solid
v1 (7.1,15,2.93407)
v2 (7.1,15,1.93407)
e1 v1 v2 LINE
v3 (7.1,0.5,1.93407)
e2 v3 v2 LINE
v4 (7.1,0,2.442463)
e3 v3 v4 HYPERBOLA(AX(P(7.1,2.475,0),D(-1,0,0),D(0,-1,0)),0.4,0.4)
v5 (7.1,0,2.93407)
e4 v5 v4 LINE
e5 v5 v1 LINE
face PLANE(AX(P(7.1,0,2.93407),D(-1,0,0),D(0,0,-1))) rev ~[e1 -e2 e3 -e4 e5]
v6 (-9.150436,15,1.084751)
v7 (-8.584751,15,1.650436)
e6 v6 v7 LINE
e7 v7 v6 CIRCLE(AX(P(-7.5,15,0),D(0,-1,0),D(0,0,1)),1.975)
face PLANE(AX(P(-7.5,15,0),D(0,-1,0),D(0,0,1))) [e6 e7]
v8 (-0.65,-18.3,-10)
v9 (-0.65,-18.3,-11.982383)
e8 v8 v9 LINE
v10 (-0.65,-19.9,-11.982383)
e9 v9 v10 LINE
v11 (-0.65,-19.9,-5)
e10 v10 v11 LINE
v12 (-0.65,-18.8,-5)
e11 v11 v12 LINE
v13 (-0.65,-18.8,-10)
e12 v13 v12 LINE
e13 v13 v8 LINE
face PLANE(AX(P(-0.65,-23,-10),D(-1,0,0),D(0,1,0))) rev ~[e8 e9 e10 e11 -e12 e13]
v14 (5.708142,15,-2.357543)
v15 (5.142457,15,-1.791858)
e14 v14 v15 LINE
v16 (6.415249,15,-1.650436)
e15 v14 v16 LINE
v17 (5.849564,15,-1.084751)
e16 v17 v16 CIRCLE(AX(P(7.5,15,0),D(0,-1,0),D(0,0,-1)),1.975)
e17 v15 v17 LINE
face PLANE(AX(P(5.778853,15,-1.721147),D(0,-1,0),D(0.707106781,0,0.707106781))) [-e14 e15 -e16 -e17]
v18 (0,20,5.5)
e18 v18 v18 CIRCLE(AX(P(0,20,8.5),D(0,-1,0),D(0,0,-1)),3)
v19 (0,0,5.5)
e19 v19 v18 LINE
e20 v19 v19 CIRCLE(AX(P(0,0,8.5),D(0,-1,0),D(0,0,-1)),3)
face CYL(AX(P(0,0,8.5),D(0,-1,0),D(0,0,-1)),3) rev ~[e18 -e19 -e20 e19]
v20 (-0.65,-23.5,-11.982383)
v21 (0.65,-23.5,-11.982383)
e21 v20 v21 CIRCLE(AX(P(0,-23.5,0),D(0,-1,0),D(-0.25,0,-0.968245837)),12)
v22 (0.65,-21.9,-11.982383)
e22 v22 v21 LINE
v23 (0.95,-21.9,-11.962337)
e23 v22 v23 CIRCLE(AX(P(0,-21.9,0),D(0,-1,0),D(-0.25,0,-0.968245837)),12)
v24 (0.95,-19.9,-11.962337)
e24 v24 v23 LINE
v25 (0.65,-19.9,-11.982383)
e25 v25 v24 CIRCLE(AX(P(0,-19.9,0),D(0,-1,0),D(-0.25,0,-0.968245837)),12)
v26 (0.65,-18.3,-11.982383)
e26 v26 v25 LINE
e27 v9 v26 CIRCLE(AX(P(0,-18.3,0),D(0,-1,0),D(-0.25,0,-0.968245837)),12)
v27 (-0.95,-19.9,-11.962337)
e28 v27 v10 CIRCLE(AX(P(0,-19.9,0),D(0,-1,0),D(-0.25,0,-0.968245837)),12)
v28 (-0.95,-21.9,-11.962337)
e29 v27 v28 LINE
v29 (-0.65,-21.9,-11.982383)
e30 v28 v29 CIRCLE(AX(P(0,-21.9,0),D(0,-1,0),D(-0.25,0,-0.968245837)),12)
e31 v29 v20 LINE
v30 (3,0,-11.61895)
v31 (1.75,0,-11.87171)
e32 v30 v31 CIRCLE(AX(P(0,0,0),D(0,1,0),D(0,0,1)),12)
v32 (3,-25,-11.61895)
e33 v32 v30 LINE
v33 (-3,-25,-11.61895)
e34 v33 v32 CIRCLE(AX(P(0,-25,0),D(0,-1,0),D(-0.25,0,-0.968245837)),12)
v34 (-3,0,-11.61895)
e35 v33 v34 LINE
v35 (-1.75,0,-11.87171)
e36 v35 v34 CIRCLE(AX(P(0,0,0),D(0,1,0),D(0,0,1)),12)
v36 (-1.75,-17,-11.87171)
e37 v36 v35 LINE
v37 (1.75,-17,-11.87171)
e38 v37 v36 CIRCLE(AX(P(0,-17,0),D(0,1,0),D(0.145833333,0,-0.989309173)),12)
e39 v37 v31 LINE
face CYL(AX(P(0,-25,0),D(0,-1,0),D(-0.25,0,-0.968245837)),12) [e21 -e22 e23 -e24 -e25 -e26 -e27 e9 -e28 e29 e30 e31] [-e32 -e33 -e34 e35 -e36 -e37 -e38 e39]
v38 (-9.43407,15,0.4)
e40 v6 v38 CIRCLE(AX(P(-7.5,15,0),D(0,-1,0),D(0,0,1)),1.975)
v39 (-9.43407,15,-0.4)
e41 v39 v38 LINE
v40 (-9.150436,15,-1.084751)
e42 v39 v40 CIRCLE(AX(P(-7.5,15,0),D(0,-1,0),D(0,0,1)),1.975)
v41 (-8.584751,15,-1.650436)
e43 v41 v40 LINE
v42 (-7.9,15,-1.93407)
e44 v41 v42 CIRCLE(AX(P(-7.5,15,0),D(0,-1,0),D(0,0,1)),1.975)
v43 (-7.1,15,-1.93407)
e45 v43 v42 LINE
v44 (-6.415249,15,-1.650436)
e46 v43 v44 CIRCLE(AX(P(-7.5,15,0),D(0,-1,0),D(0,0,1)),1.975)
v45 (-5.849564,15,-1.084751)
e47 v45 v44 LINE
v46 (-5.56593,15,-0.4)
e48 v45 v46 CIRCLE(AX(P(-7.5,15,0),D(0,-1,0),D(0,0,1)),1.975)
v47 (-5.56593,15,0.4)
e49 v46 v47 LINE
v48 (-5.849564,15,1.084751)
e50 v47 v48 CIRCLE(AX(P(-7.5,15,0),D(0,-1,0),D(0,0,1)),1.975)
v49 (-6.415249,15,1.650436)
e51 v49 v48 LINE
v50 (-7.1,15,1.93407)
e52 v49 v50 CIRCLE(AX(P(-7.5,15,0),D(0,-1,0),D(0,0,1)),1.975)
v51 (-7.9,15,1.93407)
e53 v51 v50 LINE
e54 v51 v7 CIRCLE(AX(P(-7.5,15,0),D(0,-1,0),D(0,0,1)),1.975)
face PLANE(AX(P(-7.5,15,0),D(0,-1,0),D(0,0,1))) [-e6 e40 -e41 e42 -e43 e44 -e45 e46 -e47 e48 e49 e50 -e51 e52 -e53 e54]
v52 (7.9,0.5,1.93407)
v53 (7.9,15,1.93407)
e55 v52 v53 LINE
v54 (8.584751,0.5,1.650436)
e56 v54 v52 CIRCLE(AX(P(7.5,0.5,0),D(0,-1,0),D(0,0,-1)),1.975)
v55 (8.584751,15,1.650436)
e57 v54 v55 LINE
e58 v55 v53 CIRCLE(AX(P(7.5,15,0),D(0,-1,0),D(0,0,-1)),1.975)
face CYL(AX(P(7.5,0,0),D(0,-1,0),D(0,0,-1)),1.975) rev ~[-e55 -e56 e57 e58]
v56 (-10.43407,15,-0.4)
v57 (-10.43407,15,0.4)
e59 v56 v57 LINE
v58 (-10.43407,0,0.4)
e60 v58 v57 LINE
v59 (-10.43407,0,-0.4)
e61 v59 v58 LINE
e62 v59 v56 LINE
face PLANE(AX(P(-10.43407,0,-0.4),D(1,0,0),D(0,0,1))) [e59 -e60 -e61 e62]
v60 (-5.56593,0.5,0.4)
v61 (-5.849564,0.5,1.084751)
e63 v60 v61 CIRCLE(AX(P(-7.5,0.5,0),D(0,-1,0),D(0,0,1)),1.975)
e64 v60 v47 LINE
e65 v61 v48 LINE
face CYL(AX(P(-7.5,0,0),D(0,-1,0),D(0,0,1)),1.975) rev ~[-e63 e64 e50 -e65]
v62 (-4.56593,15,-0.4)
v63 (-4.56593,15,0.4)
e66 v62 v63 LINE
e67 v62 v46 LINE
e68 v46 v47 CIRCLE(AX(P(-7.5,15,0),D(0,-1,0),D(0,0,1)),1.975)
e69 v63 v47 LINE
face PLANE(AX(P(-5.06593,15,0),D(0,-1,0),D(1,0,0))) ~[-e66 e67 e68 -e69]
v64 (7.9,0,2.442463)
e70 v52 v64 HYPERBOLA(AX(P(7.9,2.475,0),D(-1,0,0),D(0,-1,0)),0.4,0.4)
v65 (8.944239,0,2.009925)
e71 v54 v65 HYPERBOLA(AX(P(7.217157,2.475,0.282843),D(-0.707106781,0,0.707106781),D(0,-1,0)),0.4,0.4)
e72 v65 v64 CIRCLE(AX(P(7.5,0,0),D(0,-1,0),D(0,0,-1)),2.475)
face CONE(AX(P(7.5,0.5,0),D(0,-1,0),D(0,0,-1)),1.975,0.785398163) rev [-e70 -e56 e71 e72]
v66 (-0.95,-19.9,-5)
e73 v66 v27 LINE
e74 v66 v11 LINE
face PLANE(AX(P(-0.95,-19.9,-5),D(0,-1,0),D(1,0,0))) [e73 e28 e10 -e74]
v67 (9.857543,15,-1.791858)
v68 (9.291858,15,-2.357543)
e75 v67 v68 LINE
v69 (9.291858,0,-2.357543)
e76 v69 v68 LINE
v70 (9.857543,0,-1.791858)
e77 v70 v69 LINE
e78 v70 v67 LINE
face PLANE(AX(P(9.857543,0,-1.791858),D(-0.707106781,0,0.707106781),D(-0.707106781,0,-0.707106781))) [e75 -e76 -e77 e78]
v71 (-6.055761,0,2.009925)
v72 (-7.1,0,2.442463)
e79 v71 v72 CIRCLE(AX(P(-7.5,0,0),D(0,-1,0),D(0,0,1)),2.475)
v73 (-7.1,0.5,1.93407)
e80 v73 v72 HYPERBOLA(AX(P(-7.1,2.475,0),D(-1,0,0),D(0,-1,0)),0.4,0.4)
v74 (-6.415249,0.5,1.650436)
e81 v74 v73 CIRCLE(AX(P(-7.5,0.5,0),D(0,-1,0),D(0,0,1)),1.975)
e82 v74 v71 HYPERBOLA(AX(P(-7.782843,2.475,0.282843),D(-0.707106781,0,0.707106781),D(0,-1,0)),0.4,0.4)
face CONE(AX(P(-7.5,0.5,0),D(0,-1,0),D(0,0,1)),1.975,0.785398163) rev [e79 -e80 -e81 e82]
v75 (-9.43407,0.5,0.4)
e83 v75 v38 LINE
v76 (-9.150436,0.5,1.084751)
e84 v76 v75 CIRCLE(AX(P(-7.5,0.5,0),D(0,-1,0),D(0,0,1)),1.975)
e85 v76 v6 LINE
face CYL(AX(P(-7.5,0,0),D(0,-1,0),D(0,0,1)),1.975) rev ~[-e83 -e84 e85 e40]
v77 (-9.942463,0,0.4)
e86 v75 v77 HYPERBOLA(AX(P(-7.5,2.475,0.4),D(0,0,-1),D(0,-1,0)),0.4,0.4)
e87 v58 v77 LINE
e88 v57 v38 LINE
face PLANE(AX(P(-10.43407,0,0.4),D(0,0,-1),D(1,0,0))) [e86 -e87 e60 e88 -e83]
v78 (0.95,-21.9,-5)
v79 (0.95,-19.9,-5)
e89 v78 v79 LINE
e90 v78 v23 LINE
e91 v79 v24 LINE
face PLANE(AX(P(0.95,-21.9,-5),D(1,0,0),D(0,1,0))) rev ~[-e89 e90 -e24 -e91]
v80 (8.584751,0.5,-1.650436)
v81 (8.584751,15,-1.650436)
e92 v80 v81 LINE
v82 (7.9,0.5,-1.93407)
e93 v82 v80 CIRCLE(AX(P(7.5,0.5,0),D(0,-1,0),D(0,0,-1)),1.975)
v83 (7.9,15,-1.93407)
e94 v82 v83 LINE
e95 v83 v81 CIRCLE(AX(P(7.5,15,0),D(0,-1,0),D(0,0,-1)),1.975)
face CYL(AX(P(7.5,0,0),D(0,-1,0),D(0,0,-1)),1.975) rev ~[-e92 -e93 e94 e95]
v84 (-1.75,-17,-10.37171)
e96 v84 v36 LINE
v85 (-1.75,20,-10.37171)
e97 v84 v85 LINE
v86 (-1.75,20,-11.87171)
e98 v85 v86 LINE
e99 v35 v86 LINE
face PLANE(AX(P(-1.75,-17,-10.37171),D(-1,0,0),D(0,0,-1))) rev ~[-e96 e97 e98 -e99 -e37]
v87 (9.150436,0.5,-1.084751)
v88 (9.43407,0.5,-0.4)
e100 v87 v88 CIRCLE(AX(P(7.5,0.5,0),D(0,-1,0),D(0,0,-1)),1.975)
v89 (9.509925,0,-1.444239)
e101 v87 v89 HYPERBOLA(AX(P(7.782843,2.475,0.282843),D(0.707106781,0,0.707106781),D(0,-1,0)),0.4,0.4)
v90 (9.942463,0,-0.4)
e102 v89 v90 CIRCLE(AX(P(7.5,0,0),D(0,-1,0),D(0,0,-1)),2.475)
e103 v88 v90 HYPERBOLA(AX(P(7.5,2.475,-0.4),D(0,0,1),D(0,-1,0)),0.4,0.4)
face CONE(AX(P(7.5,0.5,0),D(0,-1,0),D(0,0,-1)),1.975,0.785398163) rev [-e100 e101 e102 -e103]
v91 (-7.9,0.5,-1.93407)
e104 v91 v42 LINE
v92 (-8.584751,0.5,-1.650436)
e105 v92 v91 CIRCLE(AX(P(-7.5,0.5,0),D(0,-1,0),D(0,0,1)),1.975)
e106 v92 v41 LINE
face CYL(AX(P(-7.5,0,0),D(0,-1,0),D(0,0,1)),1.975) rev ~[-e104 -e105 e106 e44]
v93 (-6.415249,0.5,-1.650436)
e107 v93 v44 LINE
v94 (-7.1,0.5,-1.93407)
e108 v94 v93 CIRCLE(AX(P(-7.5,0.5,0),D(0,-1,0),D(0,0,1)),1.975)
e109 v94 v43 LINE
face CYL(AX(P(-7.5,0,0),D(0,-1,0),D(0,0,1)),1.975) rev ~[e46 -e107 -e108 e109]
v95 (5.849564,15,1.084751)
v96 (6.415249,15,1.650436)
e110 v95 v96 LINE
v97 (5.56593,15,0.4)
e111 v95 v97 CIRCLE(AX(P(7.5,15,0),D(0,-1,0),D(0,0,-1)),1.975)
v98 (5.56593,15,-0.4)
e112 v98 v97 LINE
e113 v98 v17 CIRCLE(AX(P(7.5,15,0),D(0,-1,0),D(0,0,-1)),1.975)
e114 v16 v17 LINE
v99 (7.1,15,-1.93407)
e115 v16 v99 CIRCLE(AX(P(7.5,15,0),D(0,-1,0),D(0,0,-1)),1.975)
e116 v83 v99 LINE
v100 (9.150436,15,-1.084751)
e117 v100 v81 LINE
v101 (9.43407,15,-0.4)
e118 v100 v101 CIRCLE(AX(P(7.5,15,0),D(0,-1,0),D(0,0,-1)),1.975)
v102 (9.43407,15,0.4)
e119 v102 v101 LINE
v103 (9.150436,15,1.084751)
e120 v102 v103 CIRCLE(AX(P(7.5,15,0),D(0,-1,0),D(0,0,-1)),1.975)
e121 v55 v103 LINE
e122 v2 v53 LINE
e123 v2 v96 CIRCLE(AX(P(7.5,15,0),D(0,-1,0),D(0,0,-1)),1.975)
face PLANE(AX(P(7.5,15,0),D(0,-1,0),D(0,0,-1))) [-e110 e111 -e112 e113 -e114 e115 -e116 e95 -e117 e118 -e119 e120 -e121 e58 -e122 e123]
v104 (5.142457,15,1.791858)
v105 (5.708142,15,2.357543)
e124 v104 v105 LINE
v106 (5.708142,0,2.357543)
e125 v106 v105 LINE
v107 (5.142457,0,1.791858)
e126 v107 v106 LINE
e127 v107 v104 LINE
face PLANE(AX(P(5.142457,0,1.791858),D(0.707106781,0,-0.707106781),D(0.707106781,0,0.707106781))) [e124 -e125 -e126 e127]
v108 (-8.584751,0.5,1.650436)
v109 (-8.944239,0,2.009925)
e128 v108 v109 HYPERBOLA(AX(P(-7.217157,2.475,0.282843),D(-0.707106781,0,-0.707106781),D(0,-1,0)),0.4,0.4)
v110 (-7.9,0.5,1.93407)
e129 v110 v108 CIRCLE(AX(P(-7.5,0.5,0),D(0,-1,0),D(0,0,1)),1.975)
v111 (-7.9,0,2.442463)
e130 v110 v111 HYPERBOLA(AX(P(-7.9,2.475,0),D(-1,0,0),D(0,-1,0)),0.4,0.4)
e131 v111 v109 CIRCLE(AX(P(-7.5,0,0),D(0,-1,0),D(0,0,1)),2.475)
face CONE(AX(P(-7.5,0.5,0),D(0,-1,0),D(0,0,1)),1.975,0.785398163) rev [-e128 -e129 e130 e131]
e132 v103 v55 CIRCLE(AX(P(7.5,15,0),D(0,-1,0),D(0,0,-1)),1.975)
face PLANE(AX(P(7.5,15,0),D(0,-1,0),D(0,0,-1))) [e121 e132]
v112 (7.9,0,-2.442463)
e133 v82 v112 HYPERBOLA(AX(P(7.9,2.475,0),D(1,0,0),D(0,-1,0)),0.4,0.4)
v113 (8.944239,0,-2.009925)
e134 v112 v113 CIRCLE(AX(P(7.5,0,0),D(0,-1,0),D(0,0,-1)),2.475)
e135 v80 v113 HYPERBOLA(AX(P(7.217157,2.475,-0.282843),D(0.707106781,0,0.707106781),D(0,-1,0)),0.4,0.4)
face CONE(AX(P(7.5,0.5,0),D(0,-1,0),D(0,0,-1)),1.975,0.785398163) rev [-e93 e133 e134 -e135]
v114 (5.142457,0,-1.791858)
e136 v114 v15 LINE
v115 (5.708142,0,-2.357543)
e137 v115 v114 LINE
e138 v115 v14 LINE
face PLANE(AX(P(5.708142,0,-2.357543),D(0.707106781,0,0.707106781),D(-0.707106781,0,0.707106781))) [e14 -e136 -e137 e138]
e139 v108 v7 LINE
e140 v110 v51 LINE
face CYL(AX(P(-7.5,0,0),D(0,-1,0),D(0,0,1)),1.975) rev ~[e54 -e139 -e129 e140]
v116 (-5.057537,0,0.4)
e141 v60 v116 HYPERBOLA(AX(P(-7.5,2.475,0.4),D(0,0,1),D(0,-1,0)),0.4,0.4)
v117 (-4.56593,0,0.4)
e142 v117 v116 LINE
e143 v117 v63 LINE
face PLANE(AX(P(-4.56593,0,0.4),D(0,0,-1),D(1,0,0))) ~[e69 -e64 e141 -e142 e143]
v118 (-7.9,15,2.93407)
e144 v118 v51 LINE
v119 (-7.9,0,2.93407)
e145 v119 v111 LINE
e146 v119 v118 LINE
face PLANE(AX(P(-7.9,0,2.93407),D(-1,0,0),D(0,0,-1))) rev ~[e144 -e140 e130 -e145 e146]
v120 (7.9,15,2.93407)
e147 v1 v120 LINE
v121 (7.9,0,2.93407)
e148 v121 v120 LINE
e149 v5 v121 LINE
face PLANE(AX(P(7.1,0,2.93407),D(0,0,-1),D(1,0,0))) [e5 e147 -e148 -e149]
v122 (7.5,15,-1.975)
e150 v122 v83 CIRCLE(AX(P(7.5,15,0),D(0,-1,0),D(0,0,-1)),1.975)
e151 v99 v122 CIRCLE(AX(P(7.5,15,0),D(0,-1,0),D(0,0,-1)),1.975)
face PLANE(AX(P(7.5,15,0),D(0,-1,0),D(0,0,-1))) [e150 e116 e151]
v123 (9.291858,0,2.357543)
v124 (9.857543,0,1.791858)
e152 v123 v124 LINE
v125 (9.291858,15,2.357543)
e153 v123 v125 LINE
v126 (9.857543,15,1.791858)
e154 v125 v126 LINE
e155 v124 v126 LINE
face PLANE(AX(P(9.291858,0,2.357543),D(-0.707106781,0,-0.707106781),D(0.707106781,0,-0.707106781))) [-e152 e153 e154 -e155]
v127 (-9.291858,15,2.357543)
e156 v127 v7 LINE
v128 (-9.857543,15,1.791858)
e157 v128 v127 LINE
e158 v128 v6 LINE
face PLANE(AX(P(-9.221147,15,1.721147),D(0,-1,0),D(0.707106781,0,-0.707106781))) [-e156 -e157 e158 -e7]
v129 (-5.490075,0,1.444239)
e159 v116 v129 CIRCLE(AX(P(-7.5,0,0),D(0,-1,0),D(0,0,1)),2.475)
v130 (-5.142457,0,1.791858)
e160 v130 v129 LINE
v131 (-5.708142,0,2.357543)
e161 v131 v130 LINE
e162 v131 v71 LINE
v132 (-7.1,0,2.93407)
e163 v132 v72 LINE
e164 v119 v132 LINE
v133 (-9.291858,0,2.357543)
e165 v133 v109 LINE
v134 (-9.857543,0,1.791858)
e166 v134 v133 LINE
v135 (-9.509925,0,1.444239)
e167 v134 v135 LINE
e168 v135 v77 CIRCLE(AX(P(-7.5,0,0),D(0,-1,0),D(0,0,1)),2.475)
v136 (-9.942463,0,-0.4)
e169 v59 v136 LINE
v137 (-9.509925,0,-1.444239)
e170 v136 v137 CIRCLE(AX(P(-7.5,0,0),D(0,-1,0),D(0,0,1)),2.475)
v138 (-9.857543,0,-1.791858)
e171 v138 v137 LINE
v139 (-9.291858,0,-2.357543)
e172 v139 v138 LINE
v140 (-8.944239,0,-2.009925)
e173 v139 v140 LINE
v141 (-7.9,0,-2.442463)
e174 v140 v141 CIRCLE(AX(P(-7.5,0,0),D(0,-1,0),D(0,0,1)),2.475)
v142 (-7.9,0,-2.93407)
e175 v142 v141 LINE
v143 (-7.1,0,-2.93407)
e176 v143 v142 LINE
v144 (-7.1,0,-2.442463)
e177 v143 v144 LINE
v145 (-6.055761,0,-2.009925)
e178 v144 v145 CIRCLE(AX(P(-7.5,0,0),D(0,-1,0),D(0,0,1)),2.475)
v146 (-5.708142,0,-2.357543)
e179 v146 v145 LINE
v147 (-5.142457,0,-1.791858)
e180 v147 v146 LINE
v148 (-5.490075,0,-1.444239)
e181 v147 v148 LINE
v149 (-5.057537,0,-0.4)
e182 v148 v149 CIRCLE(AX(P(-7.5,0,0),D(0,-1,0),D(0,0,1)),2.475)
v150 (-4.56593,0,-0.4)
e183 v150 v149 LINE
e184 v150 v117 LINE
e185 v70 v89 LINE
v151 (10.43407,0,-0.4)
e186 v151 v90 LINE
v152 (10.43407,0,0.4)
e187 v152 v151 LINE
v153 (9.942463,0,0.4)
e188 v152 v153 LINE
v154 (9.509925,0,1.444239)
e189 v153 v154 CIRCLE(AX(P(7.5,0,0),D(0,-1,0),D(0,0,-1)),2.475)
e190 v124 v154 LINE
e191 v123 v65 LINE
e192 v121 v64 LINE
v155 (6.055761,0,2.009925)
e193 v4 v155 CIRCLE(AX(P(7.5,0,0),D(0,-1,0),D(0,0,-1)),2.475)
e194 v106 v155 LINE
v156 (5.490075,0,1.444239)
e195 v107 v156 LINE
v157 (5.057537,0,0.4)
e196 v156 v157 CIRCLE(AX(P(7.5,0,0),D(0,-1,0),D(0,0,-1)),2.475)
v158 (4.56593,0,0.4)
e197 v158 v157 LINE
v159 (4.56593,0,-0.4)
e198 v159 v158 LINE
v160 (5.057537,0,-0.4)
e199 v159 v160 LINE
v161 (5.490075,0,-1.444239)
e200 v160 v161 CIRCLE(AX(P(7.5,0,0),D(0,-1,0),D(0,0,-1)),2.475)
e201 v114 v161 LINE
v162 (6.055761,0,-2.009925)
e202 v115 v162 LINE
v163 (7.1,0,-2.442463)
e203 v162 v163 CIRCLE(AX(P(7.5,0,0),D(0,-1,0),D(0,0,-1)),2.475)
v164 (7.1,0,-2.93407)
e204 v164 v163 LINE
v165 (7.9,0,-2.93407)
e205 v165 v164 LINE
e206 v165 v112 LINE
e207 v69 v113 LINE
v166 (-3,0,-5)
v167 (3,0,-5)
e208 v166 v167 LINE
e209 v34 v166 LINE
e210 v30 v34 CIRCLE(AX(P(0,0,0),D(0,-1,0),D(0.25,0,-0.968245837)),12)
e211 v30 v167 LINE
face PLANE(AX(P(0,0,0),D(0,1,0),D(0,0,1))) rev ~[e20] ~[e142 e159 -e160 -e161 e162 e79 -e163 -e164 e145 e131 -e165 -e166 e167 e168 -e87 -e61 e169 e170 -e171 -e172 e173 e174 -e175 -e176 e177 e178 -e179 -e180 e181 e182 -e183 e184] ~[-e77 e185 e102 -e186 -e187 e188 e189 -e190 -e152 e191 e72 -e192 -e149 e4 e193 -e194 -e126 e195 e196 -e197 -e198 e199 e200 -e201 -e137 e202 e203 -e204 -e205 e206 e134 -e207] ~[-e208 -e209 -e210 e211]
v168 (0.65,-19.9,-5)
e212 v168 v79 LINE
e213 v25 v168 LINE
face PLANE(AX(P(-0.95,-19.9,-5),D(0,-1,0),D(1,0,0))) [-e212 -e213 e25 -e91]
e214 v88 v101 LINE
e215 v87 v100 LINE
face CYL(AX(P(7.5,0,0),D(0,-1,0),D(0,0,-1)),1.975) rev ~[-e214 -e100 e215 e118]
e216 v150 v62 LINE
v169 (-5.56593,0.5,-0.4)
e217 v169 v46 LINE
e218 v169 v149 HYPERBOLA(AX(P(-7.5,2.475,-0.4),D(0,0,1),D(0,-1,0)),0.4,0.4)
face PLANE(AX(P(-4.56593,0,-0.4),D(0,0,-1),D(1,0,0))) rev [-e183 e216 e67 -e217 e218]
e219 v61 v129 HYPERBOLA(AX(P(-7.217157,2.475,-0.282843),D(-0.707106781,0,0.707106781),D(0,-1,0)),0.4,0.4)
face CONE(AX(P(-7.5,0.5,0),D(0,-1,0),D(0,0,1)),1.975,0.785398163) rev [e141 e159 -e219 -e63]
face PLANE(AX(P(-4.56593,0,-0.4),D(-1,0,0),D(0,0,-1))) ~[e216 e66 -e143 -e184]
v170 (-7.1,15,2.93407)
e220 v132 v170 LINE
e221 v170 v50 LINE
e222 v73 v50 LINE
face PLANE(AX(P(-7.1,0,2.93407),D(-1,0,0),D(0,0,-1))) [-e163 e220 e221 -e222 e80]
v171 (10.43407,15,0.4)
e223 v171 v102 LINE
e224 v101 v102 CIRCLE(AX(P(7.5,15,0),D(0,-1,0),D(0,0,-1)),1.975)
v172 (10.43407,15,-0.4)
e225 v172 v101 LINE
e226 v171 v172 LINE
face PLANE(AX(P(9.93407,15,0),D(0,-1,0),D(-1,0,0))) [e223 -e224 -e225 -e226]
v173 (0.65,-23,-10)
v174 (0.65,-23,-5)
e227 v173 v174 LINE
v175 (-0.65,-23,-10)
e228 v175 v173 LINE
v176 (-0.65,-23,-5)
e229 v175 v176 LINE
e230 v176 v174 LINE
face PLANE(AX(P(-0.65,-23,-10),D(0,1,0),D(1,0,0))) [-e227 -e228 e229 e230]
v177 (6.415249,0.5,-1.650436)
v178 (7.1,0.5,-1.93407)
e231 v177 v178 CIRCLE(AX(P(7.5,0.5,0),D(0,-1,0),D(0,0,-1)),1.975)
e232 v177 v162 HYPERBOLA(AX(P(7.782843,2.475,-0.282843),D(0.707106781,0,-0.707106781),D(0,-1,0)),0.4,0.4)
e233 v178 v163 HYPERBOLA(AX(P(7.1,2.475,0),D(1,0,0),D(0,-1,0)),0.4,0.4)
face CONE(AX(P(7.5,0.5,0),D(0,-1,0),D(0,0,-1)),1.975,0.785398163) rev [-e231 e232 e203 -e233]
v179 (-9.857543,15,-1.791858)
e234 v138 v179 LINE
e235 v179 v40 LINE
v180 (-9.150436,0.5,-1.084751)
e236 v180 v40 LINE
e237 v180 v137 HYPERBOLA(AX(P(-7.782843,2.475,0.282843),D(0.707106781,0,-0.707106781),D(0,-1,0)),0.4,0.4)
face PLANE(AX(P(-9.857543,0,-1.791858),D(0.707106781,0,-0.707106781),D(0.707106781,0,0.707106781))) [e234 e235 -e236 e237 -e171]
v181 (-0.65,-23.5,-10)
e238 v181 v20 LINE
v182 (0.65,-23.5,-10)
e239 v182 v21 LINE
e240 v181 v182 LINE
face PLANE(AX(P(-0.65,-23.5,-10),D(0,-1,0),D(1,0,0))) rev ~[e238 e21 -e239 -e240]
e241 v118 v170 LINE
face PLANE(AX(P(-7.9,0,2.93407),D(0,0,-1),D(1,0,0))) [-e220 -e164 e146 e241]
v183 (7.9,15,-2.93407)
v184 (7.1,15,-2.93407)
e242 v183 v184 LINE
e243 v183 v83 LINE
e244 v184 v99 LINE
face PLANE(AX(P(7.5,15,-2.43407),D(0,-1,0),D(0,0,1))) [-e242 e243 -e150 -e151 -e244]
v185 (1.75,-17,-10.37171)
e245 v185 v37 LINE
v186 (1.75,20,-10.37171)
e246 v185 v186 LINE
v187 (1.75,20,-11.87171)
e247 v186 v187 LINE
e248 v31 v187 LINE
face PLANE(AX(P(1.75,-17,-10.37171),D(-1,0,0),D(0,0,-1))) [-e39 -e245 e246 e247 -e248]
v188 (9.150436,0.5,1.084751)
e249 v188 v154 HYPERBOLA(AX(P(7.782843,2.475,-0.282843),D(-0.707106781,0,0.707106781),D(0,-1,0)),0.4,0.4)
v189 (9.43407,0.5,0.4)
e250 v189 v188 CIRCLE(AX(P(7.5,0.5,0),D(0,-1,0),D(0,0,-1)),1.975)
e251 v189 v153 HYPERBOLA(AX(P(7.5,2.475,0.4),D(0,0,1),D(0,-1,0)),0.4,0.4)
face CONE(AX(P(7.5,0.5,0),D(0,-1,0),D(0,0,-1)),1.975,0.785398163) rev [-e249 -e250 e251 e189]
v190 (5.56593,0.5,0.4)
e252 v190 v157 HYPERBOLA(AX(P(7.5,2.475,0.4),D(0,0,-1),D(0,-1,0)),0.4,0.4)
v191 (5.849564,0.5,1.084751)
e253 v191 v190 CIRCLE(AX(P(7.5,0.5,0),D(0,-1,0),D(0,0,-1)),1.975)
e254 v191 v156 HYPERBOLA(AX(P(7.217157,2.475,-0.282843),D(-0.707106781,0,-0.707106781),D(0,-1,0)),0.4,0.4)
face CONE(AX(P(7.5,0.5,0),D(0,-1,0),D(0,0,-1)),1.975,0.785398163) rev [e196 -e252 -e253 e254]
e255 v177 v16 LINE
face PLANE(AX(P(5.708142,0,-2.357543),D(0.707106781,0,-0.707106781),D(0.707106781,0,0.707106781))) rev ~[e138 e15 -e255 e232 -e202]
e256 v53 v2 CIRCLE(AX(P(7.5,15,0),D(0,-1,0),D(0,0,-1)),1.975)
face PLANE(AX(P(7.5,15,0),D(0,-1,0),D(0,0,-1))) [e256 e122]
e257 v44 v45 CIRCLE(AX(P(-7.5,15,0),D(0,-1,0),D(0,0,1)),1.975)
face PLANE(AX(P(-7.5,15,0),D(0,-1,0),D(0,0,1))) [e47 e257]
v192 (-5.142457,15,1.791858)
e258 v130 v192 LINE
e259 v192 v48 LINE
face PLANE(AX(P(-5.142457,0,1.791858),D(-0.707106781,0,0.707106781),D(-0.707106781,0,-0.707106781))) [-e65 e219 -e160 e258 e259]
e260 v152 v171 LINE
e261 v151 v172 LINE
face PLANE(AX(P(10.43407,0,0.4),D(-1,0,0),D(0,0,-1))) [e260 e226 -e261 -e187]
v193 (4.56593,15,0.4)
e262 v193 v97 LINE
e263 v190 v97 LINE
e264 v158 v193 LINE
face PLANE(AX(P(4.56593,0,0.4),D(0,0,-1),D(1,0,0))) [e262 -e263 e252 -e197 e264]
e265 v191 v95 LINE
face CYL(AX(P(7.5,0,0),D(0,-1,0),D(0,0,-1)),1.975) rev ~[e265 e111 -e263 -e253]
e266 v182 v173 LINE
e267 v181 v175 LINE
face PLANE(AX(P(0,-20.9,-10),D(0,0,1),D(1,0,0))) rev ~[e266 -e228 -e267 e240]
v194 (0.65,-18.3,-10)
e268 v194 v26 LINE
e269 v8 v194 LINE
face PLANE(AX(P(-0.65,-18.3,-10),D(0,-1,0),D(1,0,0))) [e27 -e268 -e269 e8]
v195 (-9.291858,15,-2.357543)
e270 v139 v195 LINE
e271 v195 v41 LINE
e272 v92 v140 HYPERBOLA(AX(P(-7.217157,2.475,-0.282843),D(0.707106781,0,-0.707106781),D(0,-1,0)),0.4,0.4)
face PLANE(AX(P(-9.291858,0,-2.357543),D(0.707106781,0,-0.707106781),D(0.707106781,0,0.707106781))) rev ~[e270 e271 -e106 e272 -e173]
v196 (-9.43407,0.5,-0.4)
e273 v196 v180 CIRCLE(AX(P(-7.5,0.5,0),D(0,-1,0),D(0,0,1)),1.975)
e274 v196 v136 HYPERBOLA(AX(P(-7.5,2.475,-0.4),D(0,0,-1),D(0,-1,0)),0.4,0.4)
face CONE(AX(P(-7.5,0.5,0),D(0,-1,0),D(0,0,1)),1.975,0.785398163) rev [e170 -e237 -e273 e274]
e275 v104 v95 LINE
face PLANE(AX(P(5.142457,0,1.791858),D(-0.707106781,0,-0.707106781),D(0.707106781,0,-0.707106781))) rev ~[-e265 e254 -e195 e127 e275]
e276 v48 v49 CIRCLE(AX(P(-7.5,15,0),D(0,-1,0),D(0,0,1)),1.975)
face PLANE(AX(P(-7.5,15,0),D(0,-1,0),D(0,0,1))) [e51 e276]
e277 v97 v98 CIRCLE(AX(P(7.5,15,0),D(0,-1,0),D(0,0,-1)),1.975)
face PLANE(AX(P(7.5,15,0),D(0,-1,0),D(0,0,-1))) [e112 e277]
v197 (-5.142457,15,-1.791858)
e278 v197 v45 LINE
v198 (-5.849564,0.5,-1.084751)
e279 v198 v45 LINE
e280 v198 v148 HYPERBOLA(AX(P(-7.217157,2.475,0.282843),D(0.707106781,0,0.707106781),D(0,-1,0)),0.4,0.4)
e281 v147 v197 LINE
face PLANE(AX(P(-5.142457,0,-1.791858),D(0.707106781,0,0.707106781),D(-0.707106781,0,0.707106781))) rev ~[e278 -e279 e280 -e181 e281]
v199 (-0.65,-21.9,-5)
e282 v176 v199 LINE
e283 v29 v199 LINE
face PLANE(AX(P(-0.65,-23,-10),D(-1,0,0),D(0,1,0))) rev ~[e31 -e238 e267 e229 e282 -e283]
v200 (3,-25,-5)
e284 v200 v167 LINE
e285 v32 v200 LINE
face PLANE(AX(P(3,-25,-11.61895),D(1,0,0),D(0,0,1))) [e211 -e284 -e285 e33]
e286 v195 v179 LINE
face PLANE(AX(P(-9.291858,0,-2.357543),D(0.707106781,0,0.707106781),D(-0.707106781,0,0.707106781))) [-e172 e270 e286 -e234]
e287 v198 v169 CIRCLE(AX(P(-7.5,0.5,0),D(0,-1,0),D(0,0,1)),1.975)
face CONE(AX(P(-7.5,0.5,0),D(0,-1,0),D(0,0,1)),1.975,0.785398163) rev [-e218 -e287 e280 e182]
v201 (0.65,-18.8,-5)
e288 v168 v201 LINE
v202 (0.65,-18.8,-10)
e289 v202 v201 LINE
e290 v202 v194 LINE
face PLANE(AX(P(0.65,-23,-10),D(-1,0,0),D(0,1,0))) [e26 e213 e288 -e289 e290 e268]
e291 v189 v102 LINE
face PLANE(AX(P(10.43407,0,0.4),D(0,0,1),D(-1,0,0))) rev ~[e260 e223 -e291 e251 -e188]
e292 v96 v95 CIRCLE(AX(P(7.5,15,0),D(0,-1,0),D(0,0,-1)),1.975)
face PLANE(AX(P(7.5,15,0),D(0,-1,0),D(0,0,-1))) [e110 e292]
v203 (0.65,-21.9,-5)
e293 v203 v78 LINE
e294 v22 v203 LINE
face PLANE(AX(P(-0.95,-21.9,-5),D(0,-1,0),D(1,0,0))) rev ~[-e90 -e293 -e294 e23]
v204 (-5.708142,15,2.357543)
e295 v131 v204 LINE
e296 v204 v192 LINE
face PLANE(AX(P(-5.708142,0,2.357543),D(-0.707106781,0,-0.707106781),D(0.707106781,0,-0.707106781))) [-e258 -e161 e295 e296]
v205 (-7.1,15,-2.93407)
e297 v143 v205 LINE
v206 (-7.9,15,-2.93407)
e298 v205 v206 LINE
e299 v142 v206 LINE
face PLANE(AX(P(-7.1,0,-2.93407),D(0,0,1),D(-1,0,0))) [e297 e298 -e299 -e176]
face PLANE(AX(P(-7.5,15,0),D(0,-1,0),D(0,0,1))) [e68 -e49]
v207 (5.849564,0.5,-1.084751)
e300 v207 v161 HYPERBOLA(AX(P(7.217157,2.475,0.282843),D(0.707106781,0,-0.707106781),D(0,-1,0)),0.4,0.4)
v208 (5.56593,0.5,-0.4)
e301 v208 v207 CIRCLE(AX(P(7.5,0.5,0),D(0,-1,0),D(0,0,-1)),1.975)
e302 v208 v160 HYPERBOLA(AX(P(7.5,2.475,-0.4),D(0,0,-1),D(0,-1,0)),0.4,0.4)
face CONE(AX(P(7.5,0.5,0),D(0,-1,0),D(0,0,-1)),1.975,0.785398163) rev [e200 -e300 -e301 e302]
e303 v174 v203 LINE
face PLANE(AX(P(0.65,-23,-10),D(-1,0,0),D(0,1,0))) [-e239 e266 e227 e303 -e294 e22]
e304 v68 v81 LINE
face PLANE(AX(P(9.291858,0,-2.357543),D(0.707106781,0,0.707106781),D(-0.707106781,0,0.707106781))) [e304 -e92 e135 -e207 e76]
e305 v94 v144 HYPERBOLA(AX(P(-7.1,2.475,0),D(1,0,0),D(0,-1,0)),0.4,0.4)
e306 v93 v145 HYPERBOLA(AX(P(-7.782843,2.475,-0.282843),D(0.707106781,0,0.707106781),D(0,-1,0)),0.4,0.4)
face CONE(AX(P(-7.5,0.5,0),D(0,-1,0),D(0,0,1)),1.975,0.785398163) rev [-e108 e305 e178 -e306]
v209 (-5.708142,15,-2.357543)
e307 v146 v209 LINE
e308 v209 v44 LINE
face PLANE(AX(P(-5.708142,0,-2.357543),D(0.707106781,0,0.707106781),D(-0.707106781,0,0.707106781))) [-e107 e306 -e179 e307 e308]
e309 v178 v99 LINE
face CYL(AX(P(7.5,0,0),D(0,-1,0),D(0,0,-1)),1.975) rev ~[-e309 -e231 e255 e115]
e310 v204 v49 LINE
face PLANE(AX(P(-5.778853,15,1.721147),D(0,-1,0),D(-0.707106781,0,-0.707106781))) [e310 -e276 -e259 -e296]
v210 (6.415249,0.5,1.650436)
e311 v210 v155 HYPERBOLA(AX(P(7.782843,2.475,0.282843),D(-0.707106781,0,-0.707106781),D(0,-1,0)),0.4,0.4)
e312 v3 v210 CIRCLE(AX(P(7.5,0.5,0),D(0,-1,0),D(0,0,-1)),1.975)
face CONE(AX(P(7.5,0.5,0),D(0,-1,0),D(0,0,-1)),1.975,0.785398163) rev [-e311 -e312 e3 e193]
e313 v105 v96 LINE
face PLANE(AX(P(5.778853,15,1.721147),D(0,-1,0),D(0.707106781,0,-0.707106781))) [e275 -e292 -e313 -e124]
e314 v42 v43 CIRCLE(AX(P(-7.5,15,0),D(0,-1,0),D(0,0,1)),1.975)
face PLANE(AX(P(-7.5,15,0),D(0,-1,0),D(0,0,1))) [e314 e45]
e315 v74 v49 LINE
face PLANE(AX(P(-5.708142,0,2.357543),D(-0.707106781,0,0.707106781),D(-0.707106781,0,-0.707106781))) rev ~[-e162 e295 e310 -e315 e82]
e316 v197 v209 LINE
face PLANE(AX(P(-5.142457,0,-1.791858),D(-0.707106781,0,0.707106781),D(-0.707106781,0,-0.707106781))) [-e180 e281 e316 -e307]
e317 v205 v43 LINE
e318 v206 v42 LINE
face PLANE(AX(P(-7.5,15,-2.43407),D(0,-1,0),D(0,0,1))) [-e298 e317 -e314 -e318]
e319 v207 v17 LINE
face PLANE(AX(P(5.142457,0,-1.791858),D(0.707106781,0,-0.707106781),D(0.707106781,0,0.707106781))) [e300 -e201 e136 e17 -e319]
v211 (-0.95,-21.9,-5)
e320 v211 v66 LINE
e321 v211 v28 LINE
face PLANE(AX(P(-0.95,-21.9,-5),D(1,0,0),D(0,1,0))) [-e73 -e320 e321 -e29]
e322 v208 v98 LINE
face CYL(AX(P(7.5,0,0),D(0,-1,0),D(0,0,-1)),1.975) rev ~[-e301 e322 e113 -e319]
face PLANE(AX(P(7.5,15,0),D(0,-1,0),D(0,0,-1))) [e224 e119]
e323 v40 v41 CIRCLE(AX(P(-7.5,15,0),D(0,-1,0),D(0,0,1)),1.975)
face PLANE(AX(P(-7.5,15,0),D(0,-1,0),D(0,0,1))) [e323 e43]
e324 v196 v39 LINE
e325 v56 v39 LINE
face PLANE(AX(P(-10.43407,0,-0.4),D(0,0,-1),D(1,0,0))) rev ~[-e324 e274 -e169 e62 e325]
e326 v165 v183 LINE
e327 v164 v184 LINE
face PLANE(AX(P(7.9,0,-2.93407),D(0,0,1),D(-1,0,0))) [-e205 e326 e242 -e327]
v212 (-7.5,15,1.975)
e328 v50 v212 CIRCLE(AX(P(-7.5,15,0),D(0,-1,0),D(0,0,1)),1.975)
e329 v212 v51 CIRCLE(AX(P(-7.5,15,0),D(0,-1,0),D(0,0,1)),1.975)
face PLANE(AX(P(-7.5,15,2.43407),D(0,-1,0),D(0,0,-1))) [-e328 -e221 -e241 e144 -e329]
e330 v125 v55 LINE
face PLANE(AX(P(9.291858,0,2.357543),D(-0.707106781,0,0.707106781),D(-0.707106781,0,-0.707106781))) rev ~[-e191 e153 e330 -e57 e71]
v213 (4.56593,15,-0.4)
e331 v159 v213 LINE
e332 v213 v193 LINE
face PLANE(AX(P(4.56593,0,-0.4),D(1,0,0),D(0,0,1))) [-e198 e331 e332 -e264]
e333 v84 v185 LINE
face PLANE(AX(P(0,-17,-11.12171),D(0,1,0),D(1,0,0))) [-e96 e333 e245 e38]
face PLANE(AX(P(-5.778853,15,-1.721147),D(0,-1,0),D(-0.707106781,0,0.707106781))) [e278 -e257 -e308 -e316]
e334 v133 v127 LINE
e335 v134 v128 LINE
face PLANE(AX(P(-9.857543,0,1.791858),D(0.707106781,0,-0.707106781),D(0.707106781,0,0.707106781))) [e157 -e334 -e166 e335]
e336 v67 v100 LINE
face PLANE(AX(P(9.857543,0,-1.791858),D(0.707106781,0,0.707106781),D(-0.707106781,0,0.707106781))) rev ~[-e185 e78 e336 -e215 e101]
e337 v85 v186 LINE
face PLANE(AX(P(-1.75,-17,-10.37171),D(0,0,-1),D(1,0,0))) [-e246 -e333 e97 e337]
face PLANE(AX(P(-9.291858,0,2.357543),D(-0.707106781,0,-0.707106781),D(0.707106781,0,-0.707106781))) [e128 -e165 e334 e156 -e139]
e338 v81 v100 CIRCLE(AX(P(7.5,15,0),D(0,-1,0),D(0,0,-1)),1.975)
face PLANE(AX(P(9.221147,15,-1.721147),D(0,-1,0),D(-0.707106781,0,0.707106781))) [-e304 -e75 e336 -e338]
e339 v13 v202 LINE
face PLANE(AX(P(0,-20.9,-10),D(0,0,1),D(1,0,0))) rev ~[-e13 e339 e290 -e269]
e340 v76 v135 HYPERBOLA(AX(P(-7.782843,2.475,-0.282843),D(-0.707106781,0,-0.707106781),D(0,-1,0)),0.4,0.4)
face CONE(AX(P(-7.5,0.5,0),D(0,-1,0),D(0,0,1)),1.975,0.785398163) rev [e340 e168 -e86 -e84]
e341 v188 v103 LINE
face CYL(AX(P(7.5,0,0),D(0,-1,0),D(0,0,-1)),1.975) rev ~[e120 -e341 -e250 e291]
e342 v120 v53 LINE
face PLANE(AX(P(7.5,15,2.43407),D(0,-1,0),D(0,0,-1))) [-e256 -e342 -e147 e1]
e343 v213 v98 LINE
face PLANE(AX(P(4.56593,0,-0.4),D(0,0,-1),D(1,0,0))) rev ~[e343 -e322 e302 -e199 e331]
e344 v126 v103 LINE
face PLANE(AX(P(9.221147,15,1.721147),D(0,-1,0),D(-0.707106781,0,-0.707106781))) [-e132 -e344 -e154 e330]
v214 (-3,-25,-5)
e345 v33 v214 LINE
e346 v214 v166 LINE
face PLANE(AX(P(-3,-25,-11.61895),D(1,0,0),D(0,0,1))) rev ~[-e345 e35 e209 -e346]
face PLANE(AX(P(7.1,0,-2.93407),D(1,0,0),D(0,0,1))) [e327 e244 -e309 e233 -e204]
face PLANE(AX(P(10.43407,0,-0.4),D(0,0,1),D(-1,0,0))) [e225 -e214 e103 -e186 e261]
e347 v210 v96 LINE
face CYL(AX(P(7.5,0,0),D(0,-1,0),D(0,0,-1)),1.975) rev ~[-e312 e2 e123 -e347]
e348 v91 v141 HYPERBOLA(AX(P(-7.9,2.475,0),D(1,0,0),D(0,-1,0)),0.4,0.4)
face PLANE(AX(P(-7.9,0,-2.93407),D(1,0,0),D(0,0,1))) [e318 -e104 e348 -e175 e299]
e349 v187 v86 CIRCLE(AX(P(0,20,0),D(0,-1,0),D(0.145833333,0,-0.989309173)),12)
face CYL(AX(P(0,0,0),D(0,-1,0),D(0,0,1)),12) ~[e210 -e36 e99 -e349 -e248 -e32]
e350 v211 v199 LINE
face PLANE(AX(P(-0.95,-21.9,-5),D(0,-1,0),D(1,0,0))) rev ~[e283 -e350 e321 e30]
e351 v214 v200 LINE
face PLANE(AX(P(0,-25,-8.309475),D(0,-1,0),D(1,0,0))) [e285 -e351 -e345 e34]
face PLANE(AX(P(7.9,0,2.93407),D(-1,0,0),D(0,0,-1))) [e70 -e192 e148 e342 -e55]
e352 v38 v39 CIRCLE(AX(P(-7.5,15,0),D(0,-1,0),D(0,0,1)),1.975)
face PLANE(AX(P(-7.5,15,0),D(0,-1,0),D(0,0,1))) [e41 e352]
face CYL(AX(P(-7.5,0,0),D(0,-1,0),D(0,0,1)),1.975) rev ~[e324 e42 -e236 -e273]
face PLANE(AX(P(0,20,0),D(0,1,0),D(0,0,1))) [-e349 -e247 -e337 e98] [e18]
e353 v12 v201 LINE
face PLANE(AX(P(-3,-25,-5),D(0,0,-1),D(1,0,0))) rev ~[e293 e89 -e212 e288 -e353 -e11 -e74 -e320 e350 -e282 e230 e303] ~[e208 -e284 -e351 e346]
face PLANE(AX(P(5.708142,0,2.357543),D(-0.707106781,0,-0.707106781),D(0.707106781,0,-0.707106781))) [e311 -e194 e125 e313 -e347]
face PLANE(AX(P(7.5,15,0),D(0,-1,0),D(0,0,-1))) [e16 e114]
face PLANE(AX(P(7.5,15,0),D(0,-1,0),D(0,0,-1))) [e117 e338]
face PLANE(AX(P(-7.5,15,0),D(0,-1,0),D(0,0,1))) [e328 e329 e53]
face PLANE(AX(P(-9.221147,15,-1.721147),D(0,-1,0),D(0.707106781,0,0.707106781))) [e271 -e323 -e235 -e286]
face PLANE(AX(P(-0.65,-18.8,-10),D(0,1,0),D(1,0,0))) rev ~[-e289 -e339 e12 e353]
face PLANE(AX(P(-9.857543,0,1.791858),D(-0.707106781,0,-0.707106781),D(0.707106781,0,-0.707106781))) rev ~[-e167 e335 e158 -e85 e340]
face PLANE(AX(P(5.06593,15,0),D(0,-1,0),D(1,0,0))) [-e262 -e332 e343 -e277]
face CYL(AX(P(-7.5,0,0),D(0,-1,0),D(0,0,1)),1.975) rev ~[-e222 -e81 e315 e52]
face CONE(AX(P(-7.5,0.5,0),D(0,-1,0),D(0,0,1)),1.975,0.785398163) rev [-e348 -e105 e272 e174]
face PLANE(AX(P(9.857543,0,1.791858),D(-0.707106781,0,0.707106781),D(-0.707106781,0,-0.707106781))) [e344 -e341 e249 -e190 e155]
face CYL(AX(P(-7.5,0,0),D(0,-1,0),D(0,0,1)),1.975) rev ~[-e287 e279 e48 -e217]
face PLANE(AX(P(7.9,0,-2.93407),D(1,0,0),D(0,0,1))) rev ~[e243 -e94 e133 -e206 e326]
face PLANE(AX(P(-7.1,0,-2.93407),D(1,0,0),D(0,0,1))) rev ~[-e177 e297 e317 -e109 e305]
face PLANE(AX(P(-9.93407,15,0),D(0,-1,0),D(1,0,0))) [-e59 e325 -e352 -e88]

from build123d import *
from build123d.topology import SkipClean

# Parameters (mm, degrees)
SKETCH_1_R               = 12
EXTRUDE_1_DEPTH          = 20
SKETCH_2_R               = 1.975
CUT_EXTRUDE_1_DEPTH      = 15
SKETCH_3_R               = 3
CUT_EXTRUDE_2_DEPTH      = 27.229754097
EXTRUDE_START            = 25
SKETCH_4_W               = 6
SKETCH_4_H               = 6.618950039
EXTRUDE_2_DEPTH          = 25
CUT_EXTRUDE_START        = -37
SKETCH_5_W               = 3.5
SKETCH_5_H               = 1.5
CUT_EXTRUDE_3_DEPTH      = 37
CUT_EXTRUDE_4_DEPTH      = 33.526911935
CUT_EXTRUDE_4_DEPTH_BACK = 5
SKETCH_6_W               = 1.3
SKETCH_6_H               = 4.2
SKETCH_7_W               = 1.3
SKETCH_7_H               = 5.2
CUT_EXTRUDE_5_DEPTH      = 36.397740041
SKETCH_8_W               = 1.9
SKETCH_8_H               = 2
CUT_EXTRUDE_6_DEPTH      = 33.526911935
CHAMFER_1_SIZE           = 0.5
SKETCH_9_W               = 1
SKETCH_9_H               = 0.8
CUT_EXTRUDE_7_DEPTH      = 15
PATTERN_CIRCULAR_1_COUNT = 8
MIRROR_1_COPY_1_SKETCH_W = 1
MIRROR_1_COPY_1_SKETCH_H = 0.8
MIRROR_1_COPY_1_DEPTH    = 15
MIRROR_1_COPY_2_SKETCH_W = 1
MIRROR_1_COPY_2_SKETCH_H = 0.8
MIRROR_1_COPY_2_DEPTH    = 15
MIRROR_1_COPY_3_SKETCH_W = 1
MIRROR_1_COPY_3_SKETCH_H = 0.8
MIRROR_1_COPY_3_DEPTH    = 15
MIRROR_1_COPY_4_SKETCH_W = 1
MIRROR_1_COPY_4_SKETCH_H = 0.8
MIRROR_1_COPY_4_DEPTH    = 15
MIRROR_1_COPY_5_SKETCH_W = 1
MIRROR_1_COPY_5_SKETCH_H = 0.8
MIRROR_1_COPY_5_DEPTH    = 15
MIRROR_1_COPY_6_SKETCH_W = 1
MIRROR_1_COPY_6_SKETCH_H = 0.8
MIRROR_1_COPY_6_DEPTH    = 15
MIRROR_1_COPY_7_SKETCH_W = 1
MIRROR_1_COPY_7_SKETCH_H = 0.8
MIRROR_1_COPY_7_DEPTH    = 15


with BuildPart() as part:
    # 草图1 → 凸台-拉伸1 (new body)
    with BuildSketch(Plane(origin=(0, 0, 0), x_dir=(1, 0, 0), z_dir=(0, 1, 0))):
        with Locations(Location((0, 0, 0), (0, 0, 270))):
            Circle(SKETCH_1_R)
    extrude(amount=EXTRUDE_1_DEPTH)

    # 草图2 → 切除-拉伸1 (cut)
    with BuildSketch(Plane.XZ):
        with Locations(Location((7.5, 0, 0), (0, 0, 270))):
            Circle(SKETCH_2_R)
        with Locations(Location((-7.5, 0, 0), (0, 0, 90))):
            Circle(SKETCH_2_R)
    extrude(amount=-CUT_EXTRUDE_1_DEPTH, mode=Mode.SUBTRACT)

    # 草图3 → 切除-拉伸2 (cut, through all)
    with BuildSketch(Plane.XZ):
        with Locations(Location((0, 8.5, 0), (0, 0, 270))):
            Circle(SKETCH_3_R)
    extrude(amount=-CUT_EXTRUDE_2_DEPTH, mode=Mode.SUBTRACT)

    # 草图4 → 凸台-拉伸2 (add)
    with SkipClean():  # the faces are left unmerged after this step: merging them gives an invalid solid
        with BuildSketch(Plane.XZ.offset(EXTRUDE_START)):
            with Locations((0, -8.30947502)):
                Rectangle(SKETCH_4_W, SKETCH_4_H)
            with BuildLine():
                Line((3, -11.618950039), (-3, -11.618950039))
                ThreePointArc((-3, -11.618950039), (0, -12), (3, -11.618950039))
            make_face()
        extrude(amount=-EXTRUDE_2_DEPTH)

    # 草图5 → 切除-拉伸3 (cut)
    with SkipClean():  # the faces are left unmerged after this step: merging them gives an invalid solid
        with BuildSketch(Plane(origin=(0, 20, 0), x_dir=(1, 0, 0), z_dir=(0, 1, 0)).offset(CUT_EXTRUDE_START)):
            with Locations((0, 11.121710071)):
                Rectangle(SKETCH_5_W, SKETCH_5_H)
            with BuildLine():
                Line((-1.75, 11.871710071), (1.75, 11.871710071))
                ThreePointArc((1.75, 11.871710071), (0, 12), (-1.75, 11.871710071))
            make_face()
        extrude(amount=CUT_EXTRUDE_3_DEPTH, mode=Mode.SUBTRACT)

    # 草图6 → 切除-拉伸4 (cut, two sides: drawn at the far end of the back side and taken through both)
    with SkipClean():  # the faces are left unmerged after this step: merging them gives an invalid solid
        with BuildSketch(Plane.XY.offset(-5).offset(-CUT_EXTRUDE_4_DEPTH_BACK)):
            with Locations((0, -20.9)):
                Rectangle(SKETCH_6_W, SKETCH_6_H)
        extrude(amount=CUT_EXTRUDE_4_DEPTH + CUT_EXTRUDE_4_DEPTH_BACK, mode=Mode.SUBTRACT)

    # 草图7 → 切除-拉伸5 (cut, through all)
    with SkipClean():  # the faces are left unmerged after this step: merging them gives an invalid solid
        with BuildSketch(Plane.XY.offset(-10)):
            with Locations((0, -20.9)):
                Rectangle(SKETCH_7_W, SKETCH_7_H)
        extrude(amount=-CUT_EXTRUDE_5_DEPTH, mode=Mode.SUBTRACT)

    # 草图8 → 切除-拉伸6 (cut, through all)
    with SkipClean():  # the faces are left unmerged after this step: merging them gives an invalid solid
        with BuildSketch(Plane.XY.offset(-5)):
            with Locations((0, -20.9)):
                Rectangle(SKETCH_8_W, SKETCH_8_H)
        extrude(amount=-CUT_EXTRUDE_6_DEPTH, mode=Mode.SUBTRACT)

    # 倒角1
    chamfer_1_edges = [part.edges().sort_by_distance(p)[0] for p in [
        (7.5, 0, 1.975),
        (-7.5, 0, -1.975),
    ]]
    chamfer(chamfer_1_edges, length=CHAMFER_1_SIZE)

    # 草图9 → 切除-拉伸7 (cut)
    with SkipClean():  # the faces are left unmerged after this step: merging them gives an invalid solid
        with BuildSketch(Plane.XZ):
            with Locations((5.065930456, 0)):
                Rectangle(SKETCH_9_W, SKETCH_9_H)
        cut_extrude_7 = extrude(amount=-CUT_EXTRUDE_7_DEPTH, mode=Mode.SUBTRACT)

    # 阵列(圆周)1: 切除-拉伸7 ×8 about axis
    with SkipClean():  # the faces are left unmerged after this step: merging them gives an invalid solid
        pattern_circular_1_axis = Axis((7.5, 0, 0), (0, 1, 0))
        for i in range(1, PATTERN_CIRCULAR_1_COUNT):
            add(cut_extrude_7.rotate(pattern_circular_1_axis, i * 360 / PATTERN_CIRCULAR_1_COUNT), mode=Mode.SUBTRACT)

    # 镜向1: 切除-拉伸7 across plane
    with SkipClean():  # the faces are left unmerged after this step: merging them gives an invalid solid
        add(cut_extrude_7.mirror(Plane(origin=(0, 0, 0), x_dir=(0, 0, 1), z_dir=(1, 0, 0))), mode=Mode.SUBTRACT)

    # 镜向1 copy 1 sketch → 镜向1 copy 1 (cut)
    with SkipClean():  # the faces are left unmerged after this step: merging them gives an invalid solid
        with BuildSketch(Plane(origin=(-2.196699141, 0, 5.303300859), x_dir=(-0.7071067811865476, 0, -0.7071067811865475), z_dir=(0, -1, 0))):
            with Locations((5.065930456, 0)):
                Rectangle(MIRROR_1_COPY_1_SKETCH_W, MIRROR_1_COPY_1_SKETCH_H)
        extrude(amount=-MIRROR_1_COPY_1_DEPTH, mode=Mode.SUBTRACT)

    # 镜向1 copy 2 sketch → 镜向1 copy 2 (cut)
    with SkipClean():  # the faces are left unmerged after this step: merging them gives an invalid solid
        with BuildSketch(Plane(origin=(-7.5, 0, 7.5), x_dir=(0, 0, -1), z_dir=(0, -1, 0))):
            with Locations((5.065930456, 0)):
                Rectangle(MIRROR_1_COPY_2_SKETCH_W, MIRROR_1_COPY_2_SKETCH_H)
        extrude(amount=-MIRROR_1_COPY_2_DEPTH, mode=Mode.SUBTRACT)

    # 镜向1 copy 3 sketch → 镜向1 copy 3 (cut)
    with SkipClean():  # the faces are left unmerged after this step: merging them gives an invalid solid
        with BuildSketch(Plane(origin=(-12.803300859, 0, 5.303300859), x_dir=(0.7071067811865475, 0, -0.7071067811865476), z_dir=(0, -1, 0))):
            with Locations((5.065930456, 0)):
                Rectangle(MIRROR_1_COPY_3_SKETCH_W, MIRROR_1_COPY_3_SKETCH_H)
        extrude(amount=-MIRROR_1_COPY_3_DEPTH, mode=Mode.SUBTRACT)

    # 镜向1 copy 4 sketch → 镜向1 copy 4 (cut)
    with SkipClean():  # the faces are left unmerged after this step: merging them gives an invalid solid
        with BuildSketch(Plane(origin=(-15, 0, 0), x_dir=(1, 0, 0), z_dir=(0, -1, 0))):
            with Locations((5.065930456, 0)):
                Rectangle(MIRROR_1_COPY_4_SKETCH_W, MIRROR_1_COPY_4_SKETCH_H)
        extrude(amount=-MIRROR_1_COPY_4_DEPTH, mode=Mode.SUBTRACT)

    # 镜向1 copy 5 sketch → 镜向1 copy 5 (cut)
    with SkipClean():  # the faces are left unmerged after this step: merging them gives an invalid solid
        with BuildSketch(Plane(origin=(-12.803300859, 0, -5.303300859), x_dir=(0.7071067811865477, 0, 0.7071067811865475), z_dir=(0, -1, 0))):
            with Locations((5.065930456, 0)):
                Rectangle(MIRROR_1_COPY_5_SKETCH_W, MIRROR_1_COPY_5_SKETCH_H)
        extrude(amount=-MIRROR_1_COPY_5_DEPTH, mode=Mode.SUBTRACT)

    # 镜向1 copy 6 sketch → 镜向1 copy 6 (cut)
    with SkipClean():  # the faces are left unmerged after this step: merging them gives an invalid solid
        with BuildSketch(Plane(origin=(-7.5, 0, -7.5), x_dir=(0, 0, 1), z_dir=(0, -1, 0))):
            with Locations((5.065930456, 0)):
                Rectangle(MIRROR_1_COPY_6_SKETCH_W, MIRROR_1_COPY_6_SKETCH_H)
        extrude(amount=-MIRROR_1_COPY_6_DEPTH, mode=Mode.SUBTRACT)

    # 镜向1 copy 7 sketch → 镜向1 copy 7 (cut)
    with SkipClean():  # the faces are left unmerged after this step: merging them gives an invalid solid
        with BuildSketch(Plane(origin=(-2.196699141, 0, -5.303300859), x_dir=(-0.7071067811865474, 0, 0.7071067811865477), z_dir=(0, -1, 0))):
            with Locations((5.065930456, 0)):
                Rectangle(MIRROR_1_COPY_7_SKETCH_W, MIRROR_1_COPY_7_SKETCH_H)
        extrude(amount=-MIRROR_1_COPY_7_DEPTH, mode=Mode.SUBTRACT)


solid = part.part
